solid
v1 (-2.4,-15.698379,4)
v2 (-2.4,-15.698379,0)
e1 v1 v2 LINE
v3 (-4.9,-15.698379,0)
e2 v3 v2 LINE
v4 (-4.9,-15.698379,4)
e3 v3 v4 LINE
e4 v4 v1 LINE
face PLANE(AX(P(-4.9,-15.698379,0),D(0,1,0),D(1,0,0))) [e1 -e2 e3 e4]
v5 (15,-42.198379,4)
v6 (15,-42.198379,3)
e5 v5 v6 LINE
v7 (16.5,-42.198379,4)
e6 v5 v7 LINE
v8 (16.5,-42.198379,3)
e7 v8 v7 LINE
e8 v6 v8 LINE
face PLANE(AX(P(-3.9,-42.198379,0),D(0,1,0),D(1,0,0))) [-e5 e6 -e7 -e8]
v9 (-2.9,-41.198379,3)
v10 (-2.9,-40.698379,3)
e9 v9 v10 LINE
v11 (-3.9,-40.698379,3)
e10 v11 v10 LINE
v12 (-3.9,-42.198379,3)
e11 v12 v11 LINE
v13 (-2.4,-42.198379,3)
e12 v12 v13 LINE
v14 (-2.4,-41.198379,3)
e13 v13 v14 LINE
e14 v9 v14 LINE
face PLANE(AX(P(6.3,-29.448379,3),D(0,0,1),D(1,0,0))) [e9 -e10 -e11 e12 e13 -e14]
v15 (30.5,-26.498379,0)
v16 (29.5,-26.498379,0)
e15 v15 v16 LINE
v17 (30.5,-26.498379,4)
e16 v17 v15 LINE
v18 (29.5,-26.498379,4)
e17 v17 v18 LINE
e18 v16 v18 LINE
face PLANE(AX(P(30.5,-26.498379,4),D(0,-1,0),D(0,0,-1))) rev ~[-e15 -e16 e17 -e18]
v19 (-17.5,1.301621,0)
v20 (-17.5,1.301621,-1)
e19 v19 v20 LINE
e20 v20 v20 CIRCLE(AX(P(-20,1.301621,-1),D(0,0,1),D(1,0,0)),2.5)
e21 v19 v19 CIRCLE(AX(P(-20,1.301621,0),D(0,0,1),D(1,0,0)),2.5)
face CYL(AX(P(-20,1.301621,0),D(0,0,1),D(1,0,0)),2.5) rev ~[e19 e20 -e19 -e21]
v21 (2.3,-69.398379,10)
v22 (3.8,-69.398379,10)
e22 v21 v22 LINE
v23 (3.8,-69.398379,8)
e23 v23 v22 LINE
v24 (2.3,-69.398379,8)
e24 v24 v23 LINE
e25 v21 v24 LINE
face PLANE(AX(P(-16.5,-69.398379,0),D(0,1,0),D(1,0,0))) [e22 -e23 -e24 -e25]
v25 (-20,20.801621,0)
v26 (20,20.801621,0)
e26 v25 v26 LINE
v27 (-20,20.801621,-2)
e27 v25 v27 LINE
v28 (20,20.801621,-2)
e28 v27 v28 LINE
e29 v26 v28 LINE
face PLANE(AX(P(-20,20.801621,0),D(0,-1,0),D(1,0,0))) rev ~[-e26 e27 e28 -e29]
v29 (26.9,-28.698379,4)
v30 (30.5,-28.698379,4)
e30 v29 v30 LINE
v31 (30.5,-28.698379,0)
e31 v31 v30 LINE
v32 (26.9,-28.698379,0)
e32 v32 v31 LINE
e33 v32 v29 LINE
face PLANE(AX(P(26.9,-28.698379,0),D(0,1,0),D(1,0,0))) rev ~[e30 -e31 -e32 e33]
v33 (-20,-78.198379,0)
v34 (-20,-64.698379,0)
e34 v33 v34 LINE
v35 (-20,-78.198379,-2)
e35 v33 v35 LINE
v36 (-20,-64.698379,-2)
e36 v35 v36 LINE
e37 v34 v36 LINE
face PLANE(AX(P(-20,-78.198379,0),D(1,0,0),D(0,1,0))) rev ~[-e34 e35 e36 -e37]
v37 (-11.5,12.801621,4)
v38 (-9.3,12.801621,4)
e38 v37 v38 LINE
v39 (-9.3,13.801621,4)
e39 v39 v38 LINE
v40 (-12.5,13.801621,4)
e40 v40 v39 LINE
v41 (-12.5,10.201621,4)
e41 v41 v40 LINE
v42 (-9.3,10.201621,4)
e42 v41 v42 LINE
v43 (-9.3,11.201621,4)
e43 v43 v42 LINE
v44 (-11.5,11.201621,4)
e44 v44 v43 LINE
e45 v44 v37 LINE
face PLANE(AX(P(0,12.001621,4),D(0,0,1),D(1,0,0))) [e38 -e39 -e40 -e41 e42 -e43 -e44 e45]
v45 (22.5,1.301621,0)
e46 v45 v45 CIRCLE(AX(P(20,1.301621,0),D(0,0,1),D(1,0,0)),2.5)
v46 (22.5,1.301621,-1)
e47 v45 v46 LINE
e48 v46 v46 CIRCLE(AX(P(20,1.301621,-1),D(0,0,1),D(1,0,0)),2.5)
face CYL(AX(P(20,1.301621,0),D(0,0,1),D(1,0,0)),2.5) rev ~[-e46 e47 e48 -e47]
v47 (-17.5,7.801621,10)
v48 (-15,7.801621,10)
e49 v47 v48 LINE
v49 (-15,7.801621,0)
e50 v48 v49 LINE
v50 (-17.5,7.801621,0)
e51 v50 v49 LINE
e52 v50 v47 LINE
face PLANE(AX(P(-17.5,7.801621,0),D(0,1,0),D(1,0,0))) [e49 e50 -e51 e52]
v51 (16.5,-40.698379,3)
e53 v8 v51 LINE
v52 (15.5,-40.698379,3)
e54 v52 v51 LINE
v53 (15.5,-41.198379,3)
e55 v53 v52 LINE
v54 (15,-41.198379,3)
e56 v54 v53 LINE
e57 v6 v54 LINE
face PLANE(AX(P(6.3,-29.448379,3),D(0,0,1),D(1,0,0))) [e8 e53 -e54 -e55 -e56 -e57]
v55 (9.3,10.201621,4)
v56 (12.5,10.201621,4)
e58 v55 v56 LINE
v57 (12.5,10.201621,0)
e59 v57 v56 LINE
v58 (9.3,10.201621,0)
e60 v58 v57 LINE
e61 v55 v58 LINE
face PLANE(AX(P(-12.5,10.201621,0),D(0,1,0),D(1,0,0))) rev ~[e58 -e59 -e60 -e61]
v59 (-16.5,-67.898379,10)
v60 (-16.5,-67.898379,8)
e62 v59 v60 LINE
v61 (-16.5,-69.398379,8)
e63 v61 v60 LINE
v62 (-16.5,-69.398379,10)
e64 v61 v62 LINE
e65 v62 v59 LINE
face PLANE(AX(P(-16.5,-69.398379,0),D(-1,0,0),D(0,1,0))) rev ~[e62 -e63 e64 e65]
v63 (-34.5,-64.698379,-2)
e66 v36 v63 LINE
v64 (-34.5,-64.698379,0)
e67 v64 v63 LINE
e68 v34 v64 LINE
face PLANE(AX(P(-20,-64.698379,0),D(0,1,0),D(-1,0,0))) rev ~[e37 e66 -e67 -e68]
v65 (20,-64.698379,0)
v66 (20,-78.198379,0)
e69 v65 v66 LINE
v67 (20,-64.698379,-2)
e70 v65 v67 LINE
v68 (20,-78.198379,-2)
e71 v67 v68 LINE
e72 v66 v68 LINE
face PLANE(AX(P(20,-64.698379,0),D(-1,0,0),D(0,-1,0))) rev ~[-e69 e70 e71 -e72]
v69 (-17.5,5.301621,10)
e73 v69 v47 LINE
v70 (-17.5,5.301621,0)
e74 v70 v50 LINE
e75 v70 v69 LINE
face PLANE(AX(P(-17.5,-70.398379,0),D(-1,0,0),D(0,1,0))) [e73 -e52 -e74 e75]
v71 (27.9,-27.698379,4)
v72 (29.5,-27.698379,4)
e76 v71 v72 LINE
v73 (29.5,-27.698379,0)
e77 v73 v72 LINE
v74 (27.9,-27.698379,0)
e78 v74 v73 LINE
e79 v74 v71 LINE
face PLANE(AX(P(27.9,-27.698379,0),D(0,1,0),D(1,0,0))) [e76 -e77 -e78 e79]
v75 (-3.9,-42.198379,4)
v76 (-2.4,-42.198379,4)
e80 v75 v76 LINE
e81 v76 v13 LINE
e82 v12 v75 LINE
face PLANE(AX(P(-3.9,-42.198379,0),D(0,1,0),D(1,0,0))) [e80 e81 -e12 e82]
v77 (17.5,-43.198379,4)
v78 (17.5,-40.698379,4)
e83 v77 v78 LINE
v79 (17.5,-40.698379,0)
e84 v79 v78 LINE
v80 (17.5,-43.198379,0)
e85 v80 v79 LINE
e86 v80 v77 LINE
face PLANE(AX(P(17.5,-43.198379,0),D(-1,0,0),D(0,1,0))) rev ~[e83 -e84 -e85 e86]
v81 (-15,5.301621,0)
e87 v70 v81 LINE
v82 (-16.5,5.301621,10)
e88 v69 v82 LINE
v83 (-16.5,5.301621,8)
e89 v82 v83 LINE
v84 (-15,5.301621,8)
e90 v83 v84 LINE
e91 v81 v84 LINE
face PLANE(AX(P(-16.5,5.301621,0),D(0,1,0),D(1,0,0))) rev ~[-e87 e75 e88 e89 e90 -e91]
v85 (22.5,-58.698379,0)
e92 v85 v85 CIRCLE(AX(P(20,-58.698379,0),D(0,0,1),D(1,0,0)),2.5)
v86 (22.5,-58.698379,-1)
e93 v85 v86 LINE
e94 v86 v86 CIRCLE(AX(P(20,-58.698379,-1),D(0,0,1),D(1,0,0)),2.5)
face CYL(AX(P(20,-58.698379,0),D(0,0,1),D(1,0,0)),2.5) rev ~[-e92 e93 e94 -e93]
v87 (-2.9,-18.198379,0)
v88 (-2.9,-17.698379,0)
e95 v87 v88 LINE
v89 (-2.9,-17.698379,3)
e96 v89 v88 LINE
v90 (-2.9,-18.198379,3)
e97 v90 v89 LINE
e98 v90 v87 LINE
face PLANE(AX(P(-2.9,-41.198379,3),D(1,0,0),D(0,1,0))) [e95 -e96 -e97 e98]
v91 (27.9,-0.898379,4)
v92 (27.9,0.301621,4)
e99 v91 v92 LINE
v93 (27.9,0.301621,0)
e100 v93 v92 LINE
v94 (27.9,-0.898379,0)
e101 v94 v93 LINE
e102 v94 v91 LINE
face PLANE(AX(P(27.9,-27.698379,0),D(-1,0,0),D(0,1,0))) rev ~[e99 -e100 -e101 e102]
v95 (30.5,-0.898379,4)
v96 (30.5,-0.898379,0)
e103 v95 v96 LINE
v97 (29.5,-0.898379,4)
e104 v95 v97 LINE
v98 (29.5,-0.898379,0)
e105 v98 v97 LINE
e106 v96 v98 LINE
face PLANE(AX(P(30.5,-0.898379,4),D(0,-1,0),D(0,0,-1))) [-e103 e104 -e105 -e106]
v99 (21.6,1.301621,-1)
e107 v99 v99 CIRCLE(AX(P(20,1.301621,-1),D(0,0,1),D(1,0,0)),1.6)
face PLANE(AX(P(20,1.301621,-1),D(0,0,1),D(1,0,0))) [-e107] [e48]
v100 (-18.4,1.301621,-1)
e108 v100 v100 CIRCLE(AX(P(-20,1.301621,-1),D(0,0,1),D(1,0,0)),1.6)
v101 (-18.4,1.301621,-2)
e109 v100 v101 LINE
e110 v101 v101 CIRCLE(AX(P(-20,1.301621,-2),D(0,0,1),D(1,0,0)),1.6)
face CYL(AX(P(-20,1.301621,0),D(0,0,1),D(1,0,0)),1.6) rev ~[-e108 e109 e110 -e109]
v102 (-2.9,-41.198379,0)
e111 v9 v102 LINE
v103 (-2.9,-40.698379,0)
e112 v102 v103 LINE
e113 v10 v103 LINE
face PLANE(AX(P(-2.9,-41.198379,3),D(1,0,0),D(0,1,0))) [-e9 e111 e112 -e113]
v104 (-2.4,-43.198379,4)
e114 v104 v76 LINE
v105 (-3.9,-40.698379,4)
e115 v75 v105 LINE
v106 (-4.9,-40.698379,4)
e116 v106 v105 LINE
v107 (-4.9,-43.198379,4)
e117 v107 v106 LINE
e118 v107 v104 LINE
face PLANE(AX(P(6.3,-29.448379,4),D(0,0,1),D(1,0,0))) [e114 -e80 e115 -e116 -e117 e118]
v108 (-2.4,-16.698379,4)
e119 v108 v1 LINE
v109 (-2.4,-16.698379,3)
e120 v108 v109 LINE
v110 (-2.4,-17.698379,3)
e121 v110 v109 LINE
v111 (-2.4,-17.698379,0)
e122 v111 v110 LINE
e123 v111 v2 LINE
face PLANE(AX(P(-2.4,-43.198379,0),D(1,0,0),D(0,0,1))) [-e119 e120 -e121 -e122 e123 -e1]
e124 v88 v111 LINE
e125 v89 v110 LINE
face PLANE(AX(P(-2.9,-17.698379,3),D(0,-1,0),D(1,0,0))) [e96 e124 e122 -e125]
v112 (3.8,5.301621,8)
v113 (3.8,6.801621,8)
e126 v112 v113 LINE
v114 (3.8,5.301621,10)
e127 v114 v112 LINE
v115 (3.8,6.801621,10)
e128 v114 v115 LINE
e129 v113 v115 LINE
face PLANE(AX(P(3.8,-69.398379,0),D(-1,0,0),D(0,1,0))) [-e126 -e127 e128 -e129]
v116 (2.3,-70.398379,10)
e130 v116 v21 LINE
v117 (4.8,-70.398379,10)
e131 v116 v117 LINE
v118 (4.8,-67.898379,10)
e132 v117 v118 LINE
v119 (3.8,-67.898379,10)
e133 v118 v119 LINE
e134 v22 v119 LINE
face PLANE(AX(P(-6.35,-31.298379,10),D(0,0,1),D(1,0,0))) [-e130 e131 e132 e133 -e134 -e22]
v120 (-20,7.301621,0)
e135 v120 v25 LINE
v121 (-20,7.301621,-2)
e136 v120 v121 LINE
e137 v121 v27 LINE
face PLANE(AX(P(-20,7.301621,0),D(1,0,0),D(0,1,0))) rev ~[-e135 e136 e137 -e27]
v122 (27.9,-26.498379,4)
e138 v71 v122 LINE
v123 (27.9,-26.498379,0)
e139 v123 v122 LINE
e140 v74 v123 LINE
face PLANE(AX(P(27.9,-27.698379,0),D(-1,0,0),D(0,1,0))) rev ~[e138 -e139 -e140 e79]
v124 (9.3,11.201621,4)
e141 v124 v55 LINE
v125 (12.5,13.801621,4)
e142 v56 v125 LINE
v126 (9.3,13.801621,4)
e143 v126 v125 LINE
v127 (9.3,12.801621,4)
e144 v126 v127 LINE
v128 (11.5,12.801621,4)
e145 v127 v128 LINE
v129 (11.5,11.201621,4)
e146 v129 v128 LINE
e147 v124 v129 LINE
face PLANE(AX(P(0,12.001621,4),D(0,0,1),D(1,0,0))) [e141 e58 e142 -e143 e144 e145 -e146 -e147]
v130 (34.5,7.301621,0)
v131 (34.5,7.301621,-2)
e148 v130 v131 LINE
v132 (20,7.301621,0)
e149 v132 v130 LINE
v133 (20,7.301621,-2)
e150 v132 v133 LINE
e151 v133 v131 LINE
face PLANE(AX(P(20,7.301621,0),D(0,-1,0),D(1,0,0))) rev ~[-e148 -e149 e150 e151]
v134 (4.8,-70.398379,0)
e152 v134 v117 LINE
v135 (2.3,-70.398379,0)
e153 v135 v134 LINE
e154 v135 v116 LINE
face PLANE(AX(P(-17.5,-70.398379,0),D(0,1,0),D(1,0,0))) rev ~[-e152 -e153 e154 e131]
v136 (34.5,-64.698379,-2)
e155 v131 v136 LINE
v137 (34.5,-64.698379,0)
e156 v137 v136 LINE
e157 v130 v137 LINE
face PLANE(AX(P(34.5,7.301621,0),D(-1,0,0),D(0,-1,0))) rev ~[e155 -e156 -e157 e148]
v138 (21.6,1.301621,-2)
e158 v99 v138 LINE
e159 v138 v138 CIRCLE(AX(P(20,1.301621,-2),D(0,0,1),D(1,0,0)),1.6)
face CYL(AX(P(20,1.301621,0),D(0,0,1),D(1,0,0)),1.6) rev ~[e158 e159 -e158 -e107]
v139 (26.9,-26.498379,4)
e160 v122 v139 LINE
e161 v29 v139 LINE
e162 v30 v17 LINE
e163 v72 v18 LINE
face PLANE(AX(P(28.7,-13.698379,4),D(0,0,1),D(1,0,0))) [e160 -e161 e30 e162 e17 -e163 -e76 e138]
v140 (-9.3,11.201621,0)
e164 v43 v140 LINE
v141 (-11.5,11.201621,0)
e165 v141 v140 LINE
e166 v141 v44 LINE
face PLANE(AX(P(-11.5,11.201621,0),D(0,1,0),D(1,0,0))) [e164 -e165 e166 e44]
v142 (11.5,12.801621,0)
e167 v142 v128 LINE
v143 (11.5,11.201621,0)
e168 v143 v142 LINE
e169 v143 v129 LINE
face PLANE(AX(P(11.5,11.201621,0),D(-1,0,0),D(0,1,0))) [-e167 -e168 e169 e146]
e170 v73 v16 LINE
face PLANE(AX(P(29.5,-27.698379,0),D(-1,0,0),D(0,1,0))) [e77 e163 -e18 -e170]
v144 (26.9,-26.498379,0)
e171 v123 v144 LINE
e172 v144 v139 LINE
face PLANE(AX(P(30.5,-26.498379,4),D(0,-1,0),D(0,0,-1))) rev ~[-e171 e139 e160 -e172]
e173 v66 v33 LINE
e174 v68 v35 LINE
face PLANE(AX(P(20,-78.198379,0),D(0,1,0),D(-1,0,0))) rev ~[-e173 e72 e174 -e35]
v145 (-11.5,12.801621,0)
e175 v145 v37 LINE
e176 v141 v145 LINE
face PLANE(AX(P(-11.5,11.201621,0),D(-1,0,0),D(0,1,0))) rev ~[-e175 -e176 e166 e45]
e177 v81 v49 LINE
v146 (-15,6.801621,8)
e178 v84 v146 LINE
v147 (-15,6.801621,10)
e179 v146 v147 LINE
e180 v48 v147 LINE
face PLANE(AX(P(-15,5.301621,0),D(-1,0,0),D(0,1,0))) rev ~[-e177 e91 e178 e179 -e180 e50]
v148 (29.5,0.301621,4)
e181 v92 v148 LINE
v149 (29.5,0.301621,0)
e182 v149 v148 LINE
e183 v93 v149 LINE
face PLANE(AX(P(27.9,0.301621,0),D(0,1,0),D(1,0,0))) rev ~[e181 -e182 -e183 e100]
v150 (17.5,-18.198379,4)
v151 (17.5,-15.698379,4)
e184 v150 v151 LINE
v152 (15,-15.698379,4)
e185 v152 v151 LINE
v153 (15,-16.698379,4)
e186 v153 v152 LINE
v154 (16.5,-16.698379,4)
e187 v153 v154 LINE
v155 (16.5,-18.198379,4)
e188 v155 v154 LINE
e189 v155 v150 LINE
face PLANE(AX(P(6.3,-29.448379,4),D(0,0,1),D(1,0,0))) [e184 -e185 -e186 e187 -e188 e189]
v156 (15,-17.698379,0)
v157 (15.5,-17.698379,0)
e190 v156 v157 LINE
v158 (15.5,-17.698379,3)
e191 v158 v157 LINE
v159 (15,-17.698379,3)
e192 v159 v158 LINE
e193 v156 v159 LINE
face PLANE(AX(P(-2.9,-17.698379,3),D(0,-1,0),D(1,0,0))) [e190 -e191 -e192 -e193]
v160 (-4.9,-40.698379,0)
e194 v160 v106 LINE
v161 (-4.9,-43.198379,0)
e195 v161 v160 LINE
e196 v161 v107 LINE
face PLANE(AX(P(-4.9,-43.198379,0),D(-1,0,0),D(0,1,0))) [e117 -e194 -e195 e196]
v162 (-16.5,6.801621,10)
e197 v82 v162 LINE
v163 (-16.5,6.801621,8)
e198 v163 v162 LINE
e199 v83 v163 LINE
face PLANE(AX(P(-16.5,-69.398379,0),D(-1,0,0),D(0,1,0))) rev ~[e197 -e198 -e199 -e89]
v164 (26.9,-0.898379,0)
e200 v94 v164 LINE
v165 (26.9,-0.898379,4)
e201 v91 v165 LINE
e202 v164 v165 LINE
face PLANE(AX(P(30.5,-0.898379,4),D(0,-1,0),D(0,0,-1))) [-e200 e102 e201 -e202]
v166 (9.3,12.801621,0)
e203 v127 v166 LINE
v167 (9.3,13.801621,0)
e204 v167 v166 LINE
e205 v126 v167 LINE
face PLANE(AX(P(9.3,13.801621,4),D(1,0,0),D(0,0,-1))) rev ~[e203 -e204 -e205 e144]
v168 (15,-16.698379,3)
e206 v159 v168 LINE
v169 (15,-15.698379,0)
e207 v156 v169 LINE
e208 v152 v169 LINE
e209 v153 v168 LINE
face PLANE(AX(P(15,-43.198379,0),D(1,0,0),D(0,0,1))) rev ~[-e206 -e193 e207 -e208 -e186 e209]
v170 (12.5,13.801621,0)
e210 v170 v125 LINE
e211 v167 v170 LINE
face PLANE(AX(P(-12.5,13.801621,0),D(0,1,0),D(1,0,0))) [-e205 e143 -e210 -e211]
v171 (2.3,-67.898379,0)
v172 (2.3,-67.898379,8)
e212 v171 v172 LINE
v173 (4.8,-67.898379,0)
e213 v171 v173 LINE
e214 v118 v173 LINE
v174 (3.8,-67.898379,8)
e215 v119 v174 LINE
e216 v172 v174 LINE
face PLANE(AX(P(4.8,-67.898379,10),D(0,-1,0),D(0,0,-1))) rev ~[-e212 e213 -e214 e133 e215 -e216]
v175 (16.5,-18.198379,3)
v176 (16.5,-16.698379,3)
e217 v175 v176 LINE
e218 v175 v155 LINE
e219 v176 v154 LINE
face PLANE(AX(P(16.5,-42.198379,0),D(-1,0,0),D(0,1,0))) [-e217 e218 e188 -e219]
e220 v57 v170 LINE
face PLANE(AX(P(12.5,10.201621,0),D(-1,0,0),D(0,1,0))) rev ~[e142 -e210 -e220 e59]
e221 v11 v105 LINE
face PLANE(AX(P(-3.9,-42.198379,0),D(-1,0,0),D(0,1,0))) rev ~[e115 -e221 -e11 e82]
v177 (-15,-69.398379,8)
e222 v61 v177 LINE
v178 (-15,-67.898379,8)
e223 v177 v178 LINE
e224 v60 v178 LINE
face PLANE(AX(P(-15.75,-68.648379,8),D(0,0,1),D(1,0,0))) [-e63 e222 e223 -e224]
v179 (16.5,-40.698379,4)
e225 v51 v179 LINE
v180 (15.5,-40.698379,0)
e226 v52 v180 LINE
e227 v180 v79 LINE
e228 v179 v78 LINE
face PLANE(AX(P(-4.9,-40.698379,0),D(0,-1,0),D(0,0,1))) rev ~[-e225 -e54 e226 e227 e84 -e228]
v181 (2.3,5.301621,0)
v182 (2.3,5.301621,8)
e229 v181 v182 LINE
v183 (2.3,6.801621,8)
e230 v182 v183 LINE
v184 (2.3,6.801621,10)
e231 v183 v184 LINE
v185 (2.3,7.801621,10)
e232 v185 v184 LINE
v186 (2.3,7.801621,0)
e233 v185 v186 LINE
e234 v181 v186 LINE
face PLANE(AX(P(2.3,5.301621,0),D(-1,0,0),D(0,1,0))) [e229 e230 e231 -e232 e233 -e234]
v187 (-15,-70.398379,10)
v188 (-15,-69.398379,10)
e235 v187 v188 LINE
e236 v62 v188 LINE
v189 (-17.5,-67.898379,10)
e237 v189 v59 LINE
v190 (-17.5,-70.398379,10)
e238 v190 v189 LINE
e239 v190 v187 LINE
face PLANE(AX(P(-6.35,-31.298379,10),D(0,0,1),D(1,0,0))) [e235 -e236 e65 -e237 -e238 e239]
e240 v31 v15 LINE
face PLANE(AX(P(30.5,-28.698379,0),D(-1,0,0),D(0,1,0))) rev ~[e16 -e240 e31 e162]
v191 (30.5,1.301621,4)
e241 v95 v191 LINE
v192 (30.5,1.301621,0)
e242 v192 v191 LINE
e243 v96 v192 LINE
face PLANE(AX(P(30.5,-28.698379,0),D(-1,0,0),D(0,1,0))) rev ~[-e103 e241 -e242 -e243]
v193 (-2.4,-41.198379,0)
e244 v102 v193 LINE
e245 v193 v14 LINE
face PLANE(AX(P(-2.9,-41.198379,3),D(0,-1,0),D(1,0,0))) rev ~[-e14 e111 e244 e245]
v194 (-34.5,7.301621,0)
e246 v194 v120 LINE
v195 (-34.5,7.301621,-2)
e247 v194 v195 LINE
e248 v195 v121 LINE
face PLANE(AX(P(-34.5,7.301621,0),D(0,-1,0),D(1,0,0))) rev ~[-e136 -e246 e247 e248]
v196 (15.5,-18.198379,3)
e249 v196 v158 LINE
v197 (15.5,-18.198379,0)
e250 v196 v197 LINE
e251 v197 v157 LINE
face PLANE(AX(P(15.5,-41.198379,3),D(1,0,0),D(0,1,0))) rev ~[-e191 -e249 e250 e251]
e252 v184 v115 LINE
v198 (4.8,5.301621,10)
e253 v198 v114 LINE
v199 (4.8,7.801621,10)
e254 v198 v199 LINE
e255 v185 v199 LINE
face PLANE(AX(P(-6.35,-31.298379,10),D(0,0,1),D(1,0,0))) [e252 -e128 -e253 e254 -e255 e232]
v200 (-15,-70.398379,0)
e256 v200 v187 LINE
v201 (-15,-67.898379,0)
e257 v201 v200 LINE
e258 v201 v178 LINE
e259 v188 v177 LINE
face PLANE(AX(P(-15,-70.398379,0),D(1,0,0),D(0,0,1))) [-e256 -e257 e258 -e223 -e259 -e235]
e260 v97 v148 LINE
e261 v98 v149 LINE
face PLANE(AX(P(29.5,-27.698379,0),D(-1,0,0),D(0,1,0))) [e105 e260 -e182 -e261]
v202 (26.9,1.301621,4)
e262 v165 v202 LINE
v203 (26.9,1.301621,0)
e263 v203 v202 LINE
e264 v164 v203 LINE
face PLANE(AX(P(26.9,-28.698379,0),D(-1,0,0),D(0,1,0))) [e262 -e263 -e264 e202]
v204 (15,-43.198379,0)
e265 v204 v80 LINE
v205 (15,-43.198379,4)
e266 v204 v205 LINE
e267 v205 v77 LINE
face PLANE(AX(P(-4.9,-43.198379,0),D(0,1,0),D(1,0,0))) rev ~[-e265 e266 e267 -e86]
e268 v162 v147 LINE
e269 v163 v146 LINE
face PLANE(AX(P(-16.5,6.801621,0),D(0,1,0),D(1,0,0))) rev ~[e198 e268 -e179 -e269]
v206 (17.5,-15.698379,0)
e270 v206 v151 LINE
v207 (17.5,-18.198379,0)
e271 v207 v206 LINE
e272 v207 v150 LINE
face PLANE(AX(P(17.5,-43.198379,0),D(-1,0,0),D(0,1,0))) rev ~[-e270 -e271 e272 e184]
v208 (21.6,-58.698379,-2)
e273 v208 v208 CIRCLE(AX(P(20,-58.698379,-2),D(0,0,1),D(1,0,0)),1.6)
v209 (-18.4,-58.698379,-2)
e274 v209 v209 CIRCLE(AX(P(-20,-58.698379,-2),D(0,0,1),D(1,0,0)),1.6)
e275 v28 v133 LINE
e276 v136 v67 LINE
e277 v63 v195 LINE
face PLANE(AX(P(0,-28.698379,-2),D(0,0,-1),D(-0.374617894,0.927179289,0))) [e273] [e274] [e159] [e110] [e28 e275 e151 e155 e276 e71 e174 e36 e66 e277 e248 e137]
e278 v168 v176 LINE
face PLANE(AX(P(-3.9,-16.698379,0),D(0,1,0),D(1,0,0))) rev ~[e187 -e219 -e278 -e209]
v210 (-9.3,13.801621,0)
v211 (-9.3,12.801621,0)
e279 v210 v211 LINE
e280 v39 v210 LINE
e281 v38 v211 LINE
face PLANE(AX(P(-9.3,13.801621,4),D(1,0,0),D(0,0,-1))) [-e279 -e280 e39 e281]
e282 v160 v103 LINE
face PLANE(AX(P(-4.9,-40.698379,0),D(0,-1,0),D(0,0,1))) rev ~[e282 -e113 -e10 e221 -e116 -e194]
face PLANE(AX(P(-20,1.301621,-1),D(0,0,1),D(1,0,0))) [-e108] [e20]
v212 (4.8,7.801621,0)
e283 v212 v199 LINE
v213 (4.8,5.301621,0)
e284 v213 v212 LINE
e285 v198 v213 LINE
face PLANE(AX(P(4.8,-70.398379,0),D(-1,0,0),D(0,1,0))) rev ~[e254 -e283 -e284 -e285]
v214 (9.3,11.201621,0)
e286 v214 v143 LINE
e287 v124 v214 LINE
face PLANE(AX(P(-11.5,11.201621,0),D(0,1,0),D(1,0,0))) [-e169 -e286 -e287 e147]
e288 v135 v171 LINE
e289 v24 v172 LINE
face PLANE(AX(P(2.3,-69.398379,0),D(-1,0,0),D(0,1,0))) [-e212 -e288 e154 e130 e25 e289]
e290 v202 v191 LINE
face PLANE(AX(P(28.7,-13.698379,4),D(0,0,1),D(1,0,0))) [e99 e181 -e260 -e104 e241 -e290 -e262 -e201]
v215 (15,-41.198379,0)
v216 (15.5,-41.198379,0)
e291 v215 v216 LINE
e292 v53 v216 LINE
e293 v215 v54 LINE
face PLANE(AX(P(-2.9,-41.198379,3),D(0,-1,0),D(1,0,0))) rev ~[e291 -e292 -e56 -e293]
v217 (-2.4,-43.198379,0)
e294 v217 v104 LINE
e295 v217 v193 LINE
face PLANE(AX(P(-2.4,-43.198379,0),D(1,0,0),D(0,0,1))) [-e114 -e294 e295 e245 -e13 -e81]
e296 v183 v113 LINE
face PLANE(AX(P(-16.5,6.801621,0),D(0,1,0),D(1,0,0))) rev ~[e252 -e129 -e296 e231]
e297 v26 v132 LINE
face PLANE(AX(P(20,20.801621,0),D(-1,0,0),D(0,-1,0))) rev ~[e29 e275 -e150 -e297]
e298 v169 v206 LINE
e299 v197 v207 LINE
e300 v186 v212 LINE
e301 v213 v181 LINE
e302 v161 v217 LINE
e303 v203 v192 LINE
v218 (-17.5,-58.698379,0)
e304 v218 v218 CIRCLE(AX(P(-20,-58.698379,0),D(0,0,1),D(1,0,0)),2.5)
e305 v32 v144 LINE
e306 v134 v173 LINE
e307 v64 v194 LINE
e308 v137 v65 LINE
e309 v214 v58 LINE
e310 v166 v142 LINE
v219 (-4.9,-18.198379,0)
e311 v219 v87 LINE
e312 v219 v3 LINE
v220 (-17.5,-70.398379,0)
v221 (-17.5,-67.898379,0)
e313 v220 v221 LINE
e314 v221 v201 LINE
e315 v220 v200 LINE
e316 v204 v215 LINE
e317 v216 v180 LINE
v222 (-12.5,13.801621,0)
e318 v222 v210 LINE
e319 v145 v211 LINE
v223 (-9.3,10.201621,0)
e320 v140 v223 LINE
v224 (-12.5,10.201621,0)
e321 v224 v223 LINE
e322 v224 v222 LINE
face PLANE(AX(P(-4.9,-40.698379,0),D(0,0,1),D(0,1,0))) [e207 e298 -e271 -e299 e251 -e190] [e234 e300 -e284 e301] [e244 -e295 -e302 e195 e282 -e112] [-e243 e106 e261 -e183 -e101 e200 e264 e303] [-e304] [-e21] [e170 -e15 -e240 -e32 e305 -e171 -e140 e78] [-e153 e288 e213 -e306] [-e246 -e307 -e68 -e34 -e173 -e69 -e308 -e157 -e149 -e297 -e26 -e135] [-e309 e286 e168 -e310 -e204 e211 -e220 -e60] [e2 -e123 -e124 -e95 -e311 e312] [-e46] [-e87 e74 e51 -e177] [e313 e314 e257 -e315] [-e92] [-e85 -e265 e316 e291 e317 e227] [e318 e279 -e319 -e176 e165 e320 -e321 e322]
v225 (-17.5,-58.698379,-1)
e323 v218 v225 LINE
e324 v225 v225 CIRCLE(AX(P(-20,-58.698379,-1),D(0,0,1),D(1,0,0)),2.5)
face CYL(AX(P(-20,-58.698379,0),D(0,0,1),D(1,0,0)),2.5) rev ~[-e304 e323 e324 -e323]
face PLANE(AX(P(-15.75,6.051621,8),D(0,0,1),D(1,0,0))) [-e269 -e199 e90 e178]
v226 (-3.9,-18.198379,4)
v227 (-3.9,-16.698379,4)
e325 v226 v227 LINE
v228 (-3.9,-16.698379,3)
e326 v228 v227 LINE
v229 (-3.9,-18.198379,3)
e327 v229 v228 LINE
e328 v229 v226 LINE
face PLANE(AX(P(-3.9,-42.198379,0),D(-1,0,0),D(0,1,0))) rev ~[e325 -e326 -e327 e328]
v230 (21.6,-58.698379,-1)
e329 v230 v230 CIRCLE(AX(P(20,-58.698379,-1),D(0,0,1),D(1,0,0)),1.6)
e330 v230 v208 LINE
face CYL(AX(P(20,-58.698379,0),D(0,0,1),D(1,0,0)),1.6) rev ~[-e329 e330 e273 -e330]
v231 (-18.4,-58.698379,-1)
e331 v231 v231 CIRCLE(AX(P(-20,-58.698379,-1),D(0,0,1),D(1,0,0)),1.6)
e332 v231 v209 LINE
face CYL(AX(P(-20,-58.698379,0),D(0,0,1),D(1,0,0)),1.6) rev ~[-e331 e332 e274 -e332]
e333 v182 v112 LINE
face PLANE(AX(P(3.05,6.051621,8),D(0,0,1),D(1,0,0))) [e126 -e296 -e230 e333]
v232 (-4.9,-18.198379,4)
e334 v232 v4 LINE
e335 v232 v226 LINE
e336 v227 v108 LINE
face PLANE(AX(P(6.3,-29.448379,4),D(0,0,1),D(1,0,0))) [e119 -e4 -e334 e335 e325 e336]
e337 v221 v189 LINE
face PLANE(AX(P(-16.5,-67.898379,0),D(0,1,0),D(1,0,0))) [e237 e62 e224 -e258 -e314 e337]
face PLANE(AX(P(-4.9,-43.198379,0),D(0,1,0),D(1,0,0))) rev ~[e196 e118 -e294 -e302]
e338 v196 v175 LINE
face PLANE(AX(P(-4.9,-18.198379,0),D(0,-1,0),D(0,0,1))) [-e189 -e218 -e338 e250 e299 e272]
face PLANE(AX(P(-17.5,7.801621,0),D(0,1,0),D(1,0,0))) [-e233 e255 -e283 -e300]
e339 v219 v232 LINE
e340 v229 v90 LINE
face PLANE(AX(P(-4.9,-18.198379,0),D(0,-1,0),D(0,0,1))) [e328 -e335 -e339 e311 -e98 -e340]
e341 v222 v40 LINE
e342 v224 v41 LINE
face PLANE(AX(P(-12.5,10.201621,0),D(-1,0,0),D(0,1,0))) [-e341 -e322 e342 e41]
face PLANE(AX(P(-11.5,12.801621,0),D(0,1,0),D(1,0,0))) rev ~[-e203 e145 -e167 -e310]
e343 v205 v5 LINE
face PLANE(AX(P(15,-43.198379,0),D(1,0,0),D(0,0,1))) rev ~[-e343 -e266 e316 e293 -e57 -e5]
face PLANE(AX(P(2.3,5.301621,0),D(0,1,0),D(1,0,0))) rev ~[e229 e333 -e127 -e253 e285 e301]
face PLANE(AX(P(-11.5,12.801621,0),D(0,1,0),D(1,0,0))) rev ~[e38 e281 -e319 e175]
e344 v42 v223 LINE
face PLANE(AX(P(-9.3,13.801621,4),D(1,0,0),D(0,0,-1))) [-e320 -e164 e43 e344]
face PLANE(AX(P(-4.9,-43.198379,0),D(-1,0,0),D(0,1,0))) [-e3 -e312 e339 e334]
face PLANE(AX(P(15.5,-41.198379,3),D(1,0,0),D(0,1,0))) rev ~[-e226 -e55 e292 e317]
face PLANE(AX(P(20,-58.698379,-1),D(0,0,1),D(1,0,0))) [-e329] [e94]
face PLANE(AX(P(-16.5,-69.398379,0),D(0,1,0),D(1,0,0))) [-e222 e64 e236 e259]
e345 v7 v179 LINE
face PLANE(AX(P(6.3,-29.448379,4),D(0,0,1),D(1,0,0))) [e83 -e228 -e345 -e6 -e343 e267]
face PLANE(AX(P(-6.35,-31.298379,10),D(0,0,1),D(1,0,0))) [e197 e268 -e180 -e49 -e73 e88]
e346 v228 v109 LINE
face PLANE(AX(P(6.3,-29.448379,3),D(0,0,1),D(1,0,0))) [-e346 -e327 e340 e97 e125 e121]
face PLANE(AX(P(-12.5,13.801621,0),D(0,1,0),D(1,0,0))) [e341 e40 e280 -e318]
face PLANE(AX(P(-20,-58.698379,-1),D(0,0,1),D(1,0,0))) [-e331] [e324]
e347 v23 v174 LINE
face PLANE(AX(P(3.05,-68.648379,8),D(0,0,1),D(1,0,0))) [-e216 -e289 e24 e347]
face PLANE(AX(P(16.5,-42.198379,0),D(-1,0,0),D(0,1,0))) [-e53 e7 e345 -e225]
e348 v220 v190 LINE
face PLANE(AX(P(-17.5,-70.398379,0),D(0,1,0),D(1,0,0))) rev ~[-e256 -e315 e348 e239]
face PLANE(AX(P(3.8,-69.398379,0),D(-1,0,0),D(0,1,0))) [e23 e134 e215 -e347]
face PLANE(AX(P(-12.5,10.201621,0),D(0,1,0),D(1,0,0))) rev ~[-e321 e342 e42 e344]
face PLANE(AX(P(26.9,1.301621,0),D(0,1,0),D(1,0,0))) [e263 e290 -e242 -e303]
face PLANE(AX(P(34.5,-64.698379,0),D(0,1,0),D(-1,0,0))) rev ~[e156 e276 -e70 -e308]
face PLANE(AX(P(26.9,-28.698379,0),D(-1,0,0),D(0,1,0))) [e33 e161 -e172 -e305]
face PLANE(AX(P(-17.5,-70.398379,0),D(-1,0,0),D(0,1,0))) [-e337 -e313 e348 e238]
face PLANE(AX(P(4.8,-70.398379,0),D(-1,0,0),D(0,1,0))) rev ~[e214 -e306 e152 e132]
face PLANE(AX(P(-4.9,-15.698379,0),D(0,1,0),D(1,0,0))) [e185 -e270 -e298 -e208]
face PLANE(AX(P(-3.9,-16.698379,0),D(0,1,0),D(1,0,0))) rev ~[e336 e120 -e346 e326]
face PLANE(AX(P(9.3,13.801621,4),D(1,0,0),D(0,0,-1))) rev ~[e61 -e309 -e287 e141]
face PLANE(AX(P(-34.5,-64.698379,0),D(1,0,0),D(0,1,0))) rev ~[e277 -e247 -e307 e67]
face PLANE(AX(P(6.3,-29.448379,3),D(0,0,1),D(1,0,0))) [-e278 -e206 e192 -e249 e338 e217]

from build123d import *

# Parameters (mm, degrees)
BOSS_EXTRUDE1_DEPTH = 2
SKETCH2_R           = 1.6
CUT_EXTRUDE1_DEPTH  = 2
SKETCH5_R           = 2.5
CUT_EXTRUDE2_DEPTH  = 1
SKETCH6_W           = 25
SKETCH6_H           = 3.6
SKETCH6_W_2         = 23
SKETCH6_H_2         = 1.6
BOSS_EXTRUDE2_DEPTH = 4
SKETCH7_W           = 18.6
SKETCH7_H           = 4
CUT_EXTRUDE3_DEPTH  = 15
SKETCH9_W           = 3.6
SKETCH9_H           = 30
SKETCH9_W_2         = 1.6
SKETCH9_H_2         = 28
BOSS_EXTRUDE4_DEPTH = 4
SKETCH10_W          = 4
SKETCH10_H          = 25.6
CUT_EXTRUDE4_DEPTH  = 4
SKETCH11_W          = 22.4
SKETCH11_H          = 27.5
SKETCH11_W_2        = 20.4
SKETCH11_H_2        = 25.5
BOSS_EXTRUDE5_DEPTH = 4
SKETCH12_W          = 20.4
SKETCH12_H          = 25.5
BOSS_EXTRUDE6_DEPTH = 3
SKETCH13_W          = 18.4
SKETCH13_H          = 23.5
CUT_EXTRUDE5_DEPTH  = 3
SKETCH14_W          = 4
SKETCH14_H          = 22.5
CUT_EXTRUDE6_DEPTH  = 30
SKETCH15_W          = 17.4
SKETCH15_H          = 4
CUT_EXTRUDE7_DEPTH  = 30
SKETCH16_W          = 22.3
SKETCH16_H          = 78.2
SKETCH16_W_2        = 20.3
SKETCH16_H_2        = 76.2
BOSS_EXTRUDE7_DEPTH = 10
SKETCH17_W          = 17.3
SKETCH17_H          = 10
CUT_EXTRUDE8_DEPTH  = 10
CUT_EXTRUDE9_REACH  = 95.2
SKETCH18_W          = 17.3
SKETCH18_H          = 10
CUT_EXTRUDE10_REACH = 96.44
SKETCH19_W          = 10
SKETCH19_H          = 73.2
CUT_EXTRUDE11_REACH = 90.088
SKETCH20_W          = 10
SKETCH20_H          = 73.2
SKETCH21_W          = 1.5
SKETCH21_H          = 1.5
BOSS_EXTRUDE8_DEPTH = 8


with BuildPart() as part:
    # 3DSketch1 → Boss-Extrude1 (new body)
    with BuildSketch(Plane(origin=(-20, 20.801620861, 0), x_dir=(0.3746178943835793, -0.927179288599359, 0), z_dir=(0, 0, 1))):
        Polygon((0, 0), (14.984715775, 37.087171544), (27.501636171, 32.02982997), (32.93359564, 45.473929654), (99.690504419, 18.501441259), (94.258544951, 5.057341574), (106.775465347, 0), (91.790749571, -37.087171544), (79.273829175, -32.02982997), (73.841869707, -45.473929654), (7.084960928, -18.501441259), (12.516920396, -5.057341574), align=None)
    extrude(amount=-BOSS_EXTRUDE1_DEPTH)

    # Sketch2 → Cut-Extrude1 (cut)
    with BuildSketch(Plane.XY):
        with Locations((-20, 1.301620861)):
            Circle(SKETCH2_R)
        with Locations((20, 1.301620861)):
            Circle(SKETCH2_R)
        with Locations((20, -58.698379139)):
            Circle(SKETCH2_R)
        with Locations((-20, -58.698379139)):
            Circle(SKETCH2_R)
    extrude(amount=-CUT_EXTRUDE1_DEPTH, mode=Mode.SUBTRACT)

    # Sketch5 → Cut-Extrude2 (cut)
    with BuildSketch(Plane.XY):
        with Locations((-20, 1.301620861)):
            Circle(SKETCH5_R)
        with Locations((20, 1.301620861)):
            Circle(SKETCH5_R)
        with Locations((20, -58.698379139)):
            Circle(SKETCH5_R)
        with Locations((-20, -58.698379139)):
            Circle(SKETCH5_R)
    extrude(amount=-CUT_EXTRUDE2_DEPTH, mode=Mode.SUBTRACT)

    # Sketch6 → Boss-Extrude2 (add)
    with BuildSketch(Plane.XY):
        with Locations((0, 12.001620861)):
            Rectangle(SKETCH6_W, SKETCH6_H)
        with Locations((0, 12.001620861)):
            Rectangle(SKETCH6_W_2, SKETCH6_H_2, mode=Mode.SUBTRACT)
    extrude(amount=BOSS_EXTRUDE2_DEPTH)

    # Sketch7 → Cut-Extrude3 (cut)
    with BuildSketch(Plane(origin=(0, 13.801620861, 0), x_dir=(1, 0, 0), z_dir=(0, 1, 0))):
        with Locations((0, -2)):
            Rectangle(SKETCH7_W, SKETCH7_H)
    extrude(amount=-CUT_EXTRUDE3_DEPTH, mode=Mode.SUBTRACT)

    # Sketch9 → Boss-Extrude4 (add)
    with BuildSketch(Plane.XY):
        with Locations((28.7, -13.698379139)):
            Rectangle(SKETCH9_W, SKETCH9_H)
        with Locations((28.7, -13.698379139)):
            Rectangle(SKETCH9_W_2, SKETCH9_H_2, mode=Mode.SUBTRACT)
    extrude(amount=BOSS_EXTRUDE4_DEPTH)

    # Sketch10 → Cut-Extrude4 (cut)
    with BuildSketch(Plane(origin=(30.5, 0, 0), x_dir=(0, 0, -1), z_dir=(1, 0, 0))):
        with Locations((-2, -13.698379139)):
            Rectangle(SKETCH10_W, SKETCH10_H)
    extrude(amount=-CUT_EXTRUDE4_DEPTH, mode=Mode.SUBTRACT)

    # Sketch11 → Boss-Extrude5 (add)
    with BuildSketch(Plane.XY):
        with Locations((6.3, -29.448379139)):
            Rectangle(SKETCH11_W, SKETCH11_H)
        with Locations((6.3, -29.448379139)):
            Rectangle(SKETCH11_W_2, SKETCH11_H_2, mode=Mode.SUBTRACT)
    extrude(amount=BOSS_EXTRUDE5_DEPTH)

    # Sketch12 → Boss-Extrude6 (add)
    with BuildSketch(Plane.XY):
        with Locations((6.3, -29.448379139)):
            Rectangle(SKETCH12_W, SKETCH12_H)
    extrude(amount=BOSS_EXTRUDE6_DEPTH)

    # Sketch13 → Cut-Extrude5 (cut)
    with BuildSketch(Plane.XY.offset(3)):
        with Locations((6.3, -29.448379139)):
            Rectangle(SKETCH13_W, SKETCH13_H)
    extrude(amount=-CUT_EXTRUDE5_DEPTH, mode=Mode.SUBTRACT)

    # Sketch14 → Cut-Extrude6 (cut)
    with BuildSketch(Plane.ZY.offset(4.9)):
        with Locations((2, -29.448379139)):
            Rectangle(SKETCH14_W, SKETCH14_H)
    extrude(amount=-CUT_EXTRUDE6_DEPTH, mode=Mode.SUBTRACT)

    # Sketch15 → Cut-Extrude7 (cut)
    with BuildSketch(Plane.XZ.offset(43.198379139)):
        with Locations((6.3, 2)):
            Rectangle(SKETCH15_W, SKETCH15_H)
    extrude(amount=-CUT_EXTRUDE7_DEPTH, mode=Mode.SUBTRACT)

    # Sketch16 → Boss-Extrude7 (add)
    with BuildSketch(Plane.XY):
        with Locations((-6.35, -31.298379139)):
            Rectangle(SKETCH16_W, SKETCH16_H)
        with Locations((-6.35, -31.298379139)):
            Rectangle(SKETCH16_W_2, SKETCH16_H_2, mode=Mode.SUBTRACT)
    extrude(amount=BOSS_EXTRUDE7_DEPTH)

    # Sketch17 → Cut-Extrude8 (cut)
    with BuildSketch(Plane.XZ.offset(70.398379139)):
        with Locations((-6.35, 5)):
            Rectangle(SKETCH17_W, SKETCH17_H)
    extrude(amount=-CUT_EXTRUDE8_DEPTH, mode=Mode.SUBTRACT)

    # Sketch18 → Cut-Extrude9 (cut, up to next)
    with BuildSketch(Plane(origin=(0, 7.801620861, 0), x_dir=(1, 0, 0), z_dir=(0, 1, 0)), mode=Mode.PRIVATE) as cut_extrude9_sk1:
        with Locations((-6.35, -5)):
            Rectangle(SKETCH18_W, SKETCH18_H)
    cut_extrude9_tool1 = extrude(cut_extrude9_sk1.sketch, amount=-CUT_EXTRUDE9_REACH, mode=Mode.PRIVATE) & part.part
    add(cut_extrude9_tool1.solids().sort_by_distance((-6.35, 7.801621, 5))[0], mode=Mode.SUBTRACT)

    # Sketch19 → Cut-Extrude10 (cut, up to next)
    with BuildSketch(Plane.ZY.offset(17.5), mode=Mode.PRIVATE) as cut_extrude10_sk1:
        with Locations((5, -31.298379139)):
            Rectangle(SKETCH19_W, SKETCH19_H)
    cut_extrude10_tool1 = extrude(cut_extrude10_sk1.sketch, amount=-CUT_EXTRUDE10_REACH, mode=Mode.PRIVATE) & part.part
    add(cut_extrude10_tool1.solids().sort_by_distance((-17.5, -31.298379, 5))[0], mode=Mode.SUBTRACT)

    # Sketch20 → Cut-Extrude11 (cut, up to next)
    with BuildSketch(Plane(origin=(4.8, 0, 0), x_dir=(0, 0, -1), z_dir=(1, 0, 0)), mode=Mode.PRIVATE) as cut_extrude11_sk1:
        with Locations((-5, -31.298379139)):
            Rectangle(SKETCH20_W, SKETCH20_H)
    cut_extrude11_tool1 = extrude(cut_extrude11_sk1.sketch, amount=-CUT_EXTRUDE11_REACH, mode=Mode.PRIVATE) & part.part
    add(cut_extrude11_tool1.solids().sort_by_distance((4.8, -31.298379, 5))[0], mode=Mode.SUBTRACT)

    # Sketch21 → Boss-Extrude8 (add)
    with BuildSketch(Plane.XY):
        with Locations((-15.75, 6.051620861)):
            Rectangle(SKETCH21_W, SKETCH21_H)
        with Locations((3.05, 6.051620861)):
            Rectangle(SKETCH21_W, SKETCH21_H)
        with Locations((3.05, -68.648379139)):
            Rectangle(SKETCH21_W, SKETCH21_H)
        with Locations((-15.75, -68.648379139)):
            Rectangle(SKETCH21_W, SKETCH21_H)
    extrude(amount=BOSS_EXTRUDE8_DEPTH)


solid = part.part
